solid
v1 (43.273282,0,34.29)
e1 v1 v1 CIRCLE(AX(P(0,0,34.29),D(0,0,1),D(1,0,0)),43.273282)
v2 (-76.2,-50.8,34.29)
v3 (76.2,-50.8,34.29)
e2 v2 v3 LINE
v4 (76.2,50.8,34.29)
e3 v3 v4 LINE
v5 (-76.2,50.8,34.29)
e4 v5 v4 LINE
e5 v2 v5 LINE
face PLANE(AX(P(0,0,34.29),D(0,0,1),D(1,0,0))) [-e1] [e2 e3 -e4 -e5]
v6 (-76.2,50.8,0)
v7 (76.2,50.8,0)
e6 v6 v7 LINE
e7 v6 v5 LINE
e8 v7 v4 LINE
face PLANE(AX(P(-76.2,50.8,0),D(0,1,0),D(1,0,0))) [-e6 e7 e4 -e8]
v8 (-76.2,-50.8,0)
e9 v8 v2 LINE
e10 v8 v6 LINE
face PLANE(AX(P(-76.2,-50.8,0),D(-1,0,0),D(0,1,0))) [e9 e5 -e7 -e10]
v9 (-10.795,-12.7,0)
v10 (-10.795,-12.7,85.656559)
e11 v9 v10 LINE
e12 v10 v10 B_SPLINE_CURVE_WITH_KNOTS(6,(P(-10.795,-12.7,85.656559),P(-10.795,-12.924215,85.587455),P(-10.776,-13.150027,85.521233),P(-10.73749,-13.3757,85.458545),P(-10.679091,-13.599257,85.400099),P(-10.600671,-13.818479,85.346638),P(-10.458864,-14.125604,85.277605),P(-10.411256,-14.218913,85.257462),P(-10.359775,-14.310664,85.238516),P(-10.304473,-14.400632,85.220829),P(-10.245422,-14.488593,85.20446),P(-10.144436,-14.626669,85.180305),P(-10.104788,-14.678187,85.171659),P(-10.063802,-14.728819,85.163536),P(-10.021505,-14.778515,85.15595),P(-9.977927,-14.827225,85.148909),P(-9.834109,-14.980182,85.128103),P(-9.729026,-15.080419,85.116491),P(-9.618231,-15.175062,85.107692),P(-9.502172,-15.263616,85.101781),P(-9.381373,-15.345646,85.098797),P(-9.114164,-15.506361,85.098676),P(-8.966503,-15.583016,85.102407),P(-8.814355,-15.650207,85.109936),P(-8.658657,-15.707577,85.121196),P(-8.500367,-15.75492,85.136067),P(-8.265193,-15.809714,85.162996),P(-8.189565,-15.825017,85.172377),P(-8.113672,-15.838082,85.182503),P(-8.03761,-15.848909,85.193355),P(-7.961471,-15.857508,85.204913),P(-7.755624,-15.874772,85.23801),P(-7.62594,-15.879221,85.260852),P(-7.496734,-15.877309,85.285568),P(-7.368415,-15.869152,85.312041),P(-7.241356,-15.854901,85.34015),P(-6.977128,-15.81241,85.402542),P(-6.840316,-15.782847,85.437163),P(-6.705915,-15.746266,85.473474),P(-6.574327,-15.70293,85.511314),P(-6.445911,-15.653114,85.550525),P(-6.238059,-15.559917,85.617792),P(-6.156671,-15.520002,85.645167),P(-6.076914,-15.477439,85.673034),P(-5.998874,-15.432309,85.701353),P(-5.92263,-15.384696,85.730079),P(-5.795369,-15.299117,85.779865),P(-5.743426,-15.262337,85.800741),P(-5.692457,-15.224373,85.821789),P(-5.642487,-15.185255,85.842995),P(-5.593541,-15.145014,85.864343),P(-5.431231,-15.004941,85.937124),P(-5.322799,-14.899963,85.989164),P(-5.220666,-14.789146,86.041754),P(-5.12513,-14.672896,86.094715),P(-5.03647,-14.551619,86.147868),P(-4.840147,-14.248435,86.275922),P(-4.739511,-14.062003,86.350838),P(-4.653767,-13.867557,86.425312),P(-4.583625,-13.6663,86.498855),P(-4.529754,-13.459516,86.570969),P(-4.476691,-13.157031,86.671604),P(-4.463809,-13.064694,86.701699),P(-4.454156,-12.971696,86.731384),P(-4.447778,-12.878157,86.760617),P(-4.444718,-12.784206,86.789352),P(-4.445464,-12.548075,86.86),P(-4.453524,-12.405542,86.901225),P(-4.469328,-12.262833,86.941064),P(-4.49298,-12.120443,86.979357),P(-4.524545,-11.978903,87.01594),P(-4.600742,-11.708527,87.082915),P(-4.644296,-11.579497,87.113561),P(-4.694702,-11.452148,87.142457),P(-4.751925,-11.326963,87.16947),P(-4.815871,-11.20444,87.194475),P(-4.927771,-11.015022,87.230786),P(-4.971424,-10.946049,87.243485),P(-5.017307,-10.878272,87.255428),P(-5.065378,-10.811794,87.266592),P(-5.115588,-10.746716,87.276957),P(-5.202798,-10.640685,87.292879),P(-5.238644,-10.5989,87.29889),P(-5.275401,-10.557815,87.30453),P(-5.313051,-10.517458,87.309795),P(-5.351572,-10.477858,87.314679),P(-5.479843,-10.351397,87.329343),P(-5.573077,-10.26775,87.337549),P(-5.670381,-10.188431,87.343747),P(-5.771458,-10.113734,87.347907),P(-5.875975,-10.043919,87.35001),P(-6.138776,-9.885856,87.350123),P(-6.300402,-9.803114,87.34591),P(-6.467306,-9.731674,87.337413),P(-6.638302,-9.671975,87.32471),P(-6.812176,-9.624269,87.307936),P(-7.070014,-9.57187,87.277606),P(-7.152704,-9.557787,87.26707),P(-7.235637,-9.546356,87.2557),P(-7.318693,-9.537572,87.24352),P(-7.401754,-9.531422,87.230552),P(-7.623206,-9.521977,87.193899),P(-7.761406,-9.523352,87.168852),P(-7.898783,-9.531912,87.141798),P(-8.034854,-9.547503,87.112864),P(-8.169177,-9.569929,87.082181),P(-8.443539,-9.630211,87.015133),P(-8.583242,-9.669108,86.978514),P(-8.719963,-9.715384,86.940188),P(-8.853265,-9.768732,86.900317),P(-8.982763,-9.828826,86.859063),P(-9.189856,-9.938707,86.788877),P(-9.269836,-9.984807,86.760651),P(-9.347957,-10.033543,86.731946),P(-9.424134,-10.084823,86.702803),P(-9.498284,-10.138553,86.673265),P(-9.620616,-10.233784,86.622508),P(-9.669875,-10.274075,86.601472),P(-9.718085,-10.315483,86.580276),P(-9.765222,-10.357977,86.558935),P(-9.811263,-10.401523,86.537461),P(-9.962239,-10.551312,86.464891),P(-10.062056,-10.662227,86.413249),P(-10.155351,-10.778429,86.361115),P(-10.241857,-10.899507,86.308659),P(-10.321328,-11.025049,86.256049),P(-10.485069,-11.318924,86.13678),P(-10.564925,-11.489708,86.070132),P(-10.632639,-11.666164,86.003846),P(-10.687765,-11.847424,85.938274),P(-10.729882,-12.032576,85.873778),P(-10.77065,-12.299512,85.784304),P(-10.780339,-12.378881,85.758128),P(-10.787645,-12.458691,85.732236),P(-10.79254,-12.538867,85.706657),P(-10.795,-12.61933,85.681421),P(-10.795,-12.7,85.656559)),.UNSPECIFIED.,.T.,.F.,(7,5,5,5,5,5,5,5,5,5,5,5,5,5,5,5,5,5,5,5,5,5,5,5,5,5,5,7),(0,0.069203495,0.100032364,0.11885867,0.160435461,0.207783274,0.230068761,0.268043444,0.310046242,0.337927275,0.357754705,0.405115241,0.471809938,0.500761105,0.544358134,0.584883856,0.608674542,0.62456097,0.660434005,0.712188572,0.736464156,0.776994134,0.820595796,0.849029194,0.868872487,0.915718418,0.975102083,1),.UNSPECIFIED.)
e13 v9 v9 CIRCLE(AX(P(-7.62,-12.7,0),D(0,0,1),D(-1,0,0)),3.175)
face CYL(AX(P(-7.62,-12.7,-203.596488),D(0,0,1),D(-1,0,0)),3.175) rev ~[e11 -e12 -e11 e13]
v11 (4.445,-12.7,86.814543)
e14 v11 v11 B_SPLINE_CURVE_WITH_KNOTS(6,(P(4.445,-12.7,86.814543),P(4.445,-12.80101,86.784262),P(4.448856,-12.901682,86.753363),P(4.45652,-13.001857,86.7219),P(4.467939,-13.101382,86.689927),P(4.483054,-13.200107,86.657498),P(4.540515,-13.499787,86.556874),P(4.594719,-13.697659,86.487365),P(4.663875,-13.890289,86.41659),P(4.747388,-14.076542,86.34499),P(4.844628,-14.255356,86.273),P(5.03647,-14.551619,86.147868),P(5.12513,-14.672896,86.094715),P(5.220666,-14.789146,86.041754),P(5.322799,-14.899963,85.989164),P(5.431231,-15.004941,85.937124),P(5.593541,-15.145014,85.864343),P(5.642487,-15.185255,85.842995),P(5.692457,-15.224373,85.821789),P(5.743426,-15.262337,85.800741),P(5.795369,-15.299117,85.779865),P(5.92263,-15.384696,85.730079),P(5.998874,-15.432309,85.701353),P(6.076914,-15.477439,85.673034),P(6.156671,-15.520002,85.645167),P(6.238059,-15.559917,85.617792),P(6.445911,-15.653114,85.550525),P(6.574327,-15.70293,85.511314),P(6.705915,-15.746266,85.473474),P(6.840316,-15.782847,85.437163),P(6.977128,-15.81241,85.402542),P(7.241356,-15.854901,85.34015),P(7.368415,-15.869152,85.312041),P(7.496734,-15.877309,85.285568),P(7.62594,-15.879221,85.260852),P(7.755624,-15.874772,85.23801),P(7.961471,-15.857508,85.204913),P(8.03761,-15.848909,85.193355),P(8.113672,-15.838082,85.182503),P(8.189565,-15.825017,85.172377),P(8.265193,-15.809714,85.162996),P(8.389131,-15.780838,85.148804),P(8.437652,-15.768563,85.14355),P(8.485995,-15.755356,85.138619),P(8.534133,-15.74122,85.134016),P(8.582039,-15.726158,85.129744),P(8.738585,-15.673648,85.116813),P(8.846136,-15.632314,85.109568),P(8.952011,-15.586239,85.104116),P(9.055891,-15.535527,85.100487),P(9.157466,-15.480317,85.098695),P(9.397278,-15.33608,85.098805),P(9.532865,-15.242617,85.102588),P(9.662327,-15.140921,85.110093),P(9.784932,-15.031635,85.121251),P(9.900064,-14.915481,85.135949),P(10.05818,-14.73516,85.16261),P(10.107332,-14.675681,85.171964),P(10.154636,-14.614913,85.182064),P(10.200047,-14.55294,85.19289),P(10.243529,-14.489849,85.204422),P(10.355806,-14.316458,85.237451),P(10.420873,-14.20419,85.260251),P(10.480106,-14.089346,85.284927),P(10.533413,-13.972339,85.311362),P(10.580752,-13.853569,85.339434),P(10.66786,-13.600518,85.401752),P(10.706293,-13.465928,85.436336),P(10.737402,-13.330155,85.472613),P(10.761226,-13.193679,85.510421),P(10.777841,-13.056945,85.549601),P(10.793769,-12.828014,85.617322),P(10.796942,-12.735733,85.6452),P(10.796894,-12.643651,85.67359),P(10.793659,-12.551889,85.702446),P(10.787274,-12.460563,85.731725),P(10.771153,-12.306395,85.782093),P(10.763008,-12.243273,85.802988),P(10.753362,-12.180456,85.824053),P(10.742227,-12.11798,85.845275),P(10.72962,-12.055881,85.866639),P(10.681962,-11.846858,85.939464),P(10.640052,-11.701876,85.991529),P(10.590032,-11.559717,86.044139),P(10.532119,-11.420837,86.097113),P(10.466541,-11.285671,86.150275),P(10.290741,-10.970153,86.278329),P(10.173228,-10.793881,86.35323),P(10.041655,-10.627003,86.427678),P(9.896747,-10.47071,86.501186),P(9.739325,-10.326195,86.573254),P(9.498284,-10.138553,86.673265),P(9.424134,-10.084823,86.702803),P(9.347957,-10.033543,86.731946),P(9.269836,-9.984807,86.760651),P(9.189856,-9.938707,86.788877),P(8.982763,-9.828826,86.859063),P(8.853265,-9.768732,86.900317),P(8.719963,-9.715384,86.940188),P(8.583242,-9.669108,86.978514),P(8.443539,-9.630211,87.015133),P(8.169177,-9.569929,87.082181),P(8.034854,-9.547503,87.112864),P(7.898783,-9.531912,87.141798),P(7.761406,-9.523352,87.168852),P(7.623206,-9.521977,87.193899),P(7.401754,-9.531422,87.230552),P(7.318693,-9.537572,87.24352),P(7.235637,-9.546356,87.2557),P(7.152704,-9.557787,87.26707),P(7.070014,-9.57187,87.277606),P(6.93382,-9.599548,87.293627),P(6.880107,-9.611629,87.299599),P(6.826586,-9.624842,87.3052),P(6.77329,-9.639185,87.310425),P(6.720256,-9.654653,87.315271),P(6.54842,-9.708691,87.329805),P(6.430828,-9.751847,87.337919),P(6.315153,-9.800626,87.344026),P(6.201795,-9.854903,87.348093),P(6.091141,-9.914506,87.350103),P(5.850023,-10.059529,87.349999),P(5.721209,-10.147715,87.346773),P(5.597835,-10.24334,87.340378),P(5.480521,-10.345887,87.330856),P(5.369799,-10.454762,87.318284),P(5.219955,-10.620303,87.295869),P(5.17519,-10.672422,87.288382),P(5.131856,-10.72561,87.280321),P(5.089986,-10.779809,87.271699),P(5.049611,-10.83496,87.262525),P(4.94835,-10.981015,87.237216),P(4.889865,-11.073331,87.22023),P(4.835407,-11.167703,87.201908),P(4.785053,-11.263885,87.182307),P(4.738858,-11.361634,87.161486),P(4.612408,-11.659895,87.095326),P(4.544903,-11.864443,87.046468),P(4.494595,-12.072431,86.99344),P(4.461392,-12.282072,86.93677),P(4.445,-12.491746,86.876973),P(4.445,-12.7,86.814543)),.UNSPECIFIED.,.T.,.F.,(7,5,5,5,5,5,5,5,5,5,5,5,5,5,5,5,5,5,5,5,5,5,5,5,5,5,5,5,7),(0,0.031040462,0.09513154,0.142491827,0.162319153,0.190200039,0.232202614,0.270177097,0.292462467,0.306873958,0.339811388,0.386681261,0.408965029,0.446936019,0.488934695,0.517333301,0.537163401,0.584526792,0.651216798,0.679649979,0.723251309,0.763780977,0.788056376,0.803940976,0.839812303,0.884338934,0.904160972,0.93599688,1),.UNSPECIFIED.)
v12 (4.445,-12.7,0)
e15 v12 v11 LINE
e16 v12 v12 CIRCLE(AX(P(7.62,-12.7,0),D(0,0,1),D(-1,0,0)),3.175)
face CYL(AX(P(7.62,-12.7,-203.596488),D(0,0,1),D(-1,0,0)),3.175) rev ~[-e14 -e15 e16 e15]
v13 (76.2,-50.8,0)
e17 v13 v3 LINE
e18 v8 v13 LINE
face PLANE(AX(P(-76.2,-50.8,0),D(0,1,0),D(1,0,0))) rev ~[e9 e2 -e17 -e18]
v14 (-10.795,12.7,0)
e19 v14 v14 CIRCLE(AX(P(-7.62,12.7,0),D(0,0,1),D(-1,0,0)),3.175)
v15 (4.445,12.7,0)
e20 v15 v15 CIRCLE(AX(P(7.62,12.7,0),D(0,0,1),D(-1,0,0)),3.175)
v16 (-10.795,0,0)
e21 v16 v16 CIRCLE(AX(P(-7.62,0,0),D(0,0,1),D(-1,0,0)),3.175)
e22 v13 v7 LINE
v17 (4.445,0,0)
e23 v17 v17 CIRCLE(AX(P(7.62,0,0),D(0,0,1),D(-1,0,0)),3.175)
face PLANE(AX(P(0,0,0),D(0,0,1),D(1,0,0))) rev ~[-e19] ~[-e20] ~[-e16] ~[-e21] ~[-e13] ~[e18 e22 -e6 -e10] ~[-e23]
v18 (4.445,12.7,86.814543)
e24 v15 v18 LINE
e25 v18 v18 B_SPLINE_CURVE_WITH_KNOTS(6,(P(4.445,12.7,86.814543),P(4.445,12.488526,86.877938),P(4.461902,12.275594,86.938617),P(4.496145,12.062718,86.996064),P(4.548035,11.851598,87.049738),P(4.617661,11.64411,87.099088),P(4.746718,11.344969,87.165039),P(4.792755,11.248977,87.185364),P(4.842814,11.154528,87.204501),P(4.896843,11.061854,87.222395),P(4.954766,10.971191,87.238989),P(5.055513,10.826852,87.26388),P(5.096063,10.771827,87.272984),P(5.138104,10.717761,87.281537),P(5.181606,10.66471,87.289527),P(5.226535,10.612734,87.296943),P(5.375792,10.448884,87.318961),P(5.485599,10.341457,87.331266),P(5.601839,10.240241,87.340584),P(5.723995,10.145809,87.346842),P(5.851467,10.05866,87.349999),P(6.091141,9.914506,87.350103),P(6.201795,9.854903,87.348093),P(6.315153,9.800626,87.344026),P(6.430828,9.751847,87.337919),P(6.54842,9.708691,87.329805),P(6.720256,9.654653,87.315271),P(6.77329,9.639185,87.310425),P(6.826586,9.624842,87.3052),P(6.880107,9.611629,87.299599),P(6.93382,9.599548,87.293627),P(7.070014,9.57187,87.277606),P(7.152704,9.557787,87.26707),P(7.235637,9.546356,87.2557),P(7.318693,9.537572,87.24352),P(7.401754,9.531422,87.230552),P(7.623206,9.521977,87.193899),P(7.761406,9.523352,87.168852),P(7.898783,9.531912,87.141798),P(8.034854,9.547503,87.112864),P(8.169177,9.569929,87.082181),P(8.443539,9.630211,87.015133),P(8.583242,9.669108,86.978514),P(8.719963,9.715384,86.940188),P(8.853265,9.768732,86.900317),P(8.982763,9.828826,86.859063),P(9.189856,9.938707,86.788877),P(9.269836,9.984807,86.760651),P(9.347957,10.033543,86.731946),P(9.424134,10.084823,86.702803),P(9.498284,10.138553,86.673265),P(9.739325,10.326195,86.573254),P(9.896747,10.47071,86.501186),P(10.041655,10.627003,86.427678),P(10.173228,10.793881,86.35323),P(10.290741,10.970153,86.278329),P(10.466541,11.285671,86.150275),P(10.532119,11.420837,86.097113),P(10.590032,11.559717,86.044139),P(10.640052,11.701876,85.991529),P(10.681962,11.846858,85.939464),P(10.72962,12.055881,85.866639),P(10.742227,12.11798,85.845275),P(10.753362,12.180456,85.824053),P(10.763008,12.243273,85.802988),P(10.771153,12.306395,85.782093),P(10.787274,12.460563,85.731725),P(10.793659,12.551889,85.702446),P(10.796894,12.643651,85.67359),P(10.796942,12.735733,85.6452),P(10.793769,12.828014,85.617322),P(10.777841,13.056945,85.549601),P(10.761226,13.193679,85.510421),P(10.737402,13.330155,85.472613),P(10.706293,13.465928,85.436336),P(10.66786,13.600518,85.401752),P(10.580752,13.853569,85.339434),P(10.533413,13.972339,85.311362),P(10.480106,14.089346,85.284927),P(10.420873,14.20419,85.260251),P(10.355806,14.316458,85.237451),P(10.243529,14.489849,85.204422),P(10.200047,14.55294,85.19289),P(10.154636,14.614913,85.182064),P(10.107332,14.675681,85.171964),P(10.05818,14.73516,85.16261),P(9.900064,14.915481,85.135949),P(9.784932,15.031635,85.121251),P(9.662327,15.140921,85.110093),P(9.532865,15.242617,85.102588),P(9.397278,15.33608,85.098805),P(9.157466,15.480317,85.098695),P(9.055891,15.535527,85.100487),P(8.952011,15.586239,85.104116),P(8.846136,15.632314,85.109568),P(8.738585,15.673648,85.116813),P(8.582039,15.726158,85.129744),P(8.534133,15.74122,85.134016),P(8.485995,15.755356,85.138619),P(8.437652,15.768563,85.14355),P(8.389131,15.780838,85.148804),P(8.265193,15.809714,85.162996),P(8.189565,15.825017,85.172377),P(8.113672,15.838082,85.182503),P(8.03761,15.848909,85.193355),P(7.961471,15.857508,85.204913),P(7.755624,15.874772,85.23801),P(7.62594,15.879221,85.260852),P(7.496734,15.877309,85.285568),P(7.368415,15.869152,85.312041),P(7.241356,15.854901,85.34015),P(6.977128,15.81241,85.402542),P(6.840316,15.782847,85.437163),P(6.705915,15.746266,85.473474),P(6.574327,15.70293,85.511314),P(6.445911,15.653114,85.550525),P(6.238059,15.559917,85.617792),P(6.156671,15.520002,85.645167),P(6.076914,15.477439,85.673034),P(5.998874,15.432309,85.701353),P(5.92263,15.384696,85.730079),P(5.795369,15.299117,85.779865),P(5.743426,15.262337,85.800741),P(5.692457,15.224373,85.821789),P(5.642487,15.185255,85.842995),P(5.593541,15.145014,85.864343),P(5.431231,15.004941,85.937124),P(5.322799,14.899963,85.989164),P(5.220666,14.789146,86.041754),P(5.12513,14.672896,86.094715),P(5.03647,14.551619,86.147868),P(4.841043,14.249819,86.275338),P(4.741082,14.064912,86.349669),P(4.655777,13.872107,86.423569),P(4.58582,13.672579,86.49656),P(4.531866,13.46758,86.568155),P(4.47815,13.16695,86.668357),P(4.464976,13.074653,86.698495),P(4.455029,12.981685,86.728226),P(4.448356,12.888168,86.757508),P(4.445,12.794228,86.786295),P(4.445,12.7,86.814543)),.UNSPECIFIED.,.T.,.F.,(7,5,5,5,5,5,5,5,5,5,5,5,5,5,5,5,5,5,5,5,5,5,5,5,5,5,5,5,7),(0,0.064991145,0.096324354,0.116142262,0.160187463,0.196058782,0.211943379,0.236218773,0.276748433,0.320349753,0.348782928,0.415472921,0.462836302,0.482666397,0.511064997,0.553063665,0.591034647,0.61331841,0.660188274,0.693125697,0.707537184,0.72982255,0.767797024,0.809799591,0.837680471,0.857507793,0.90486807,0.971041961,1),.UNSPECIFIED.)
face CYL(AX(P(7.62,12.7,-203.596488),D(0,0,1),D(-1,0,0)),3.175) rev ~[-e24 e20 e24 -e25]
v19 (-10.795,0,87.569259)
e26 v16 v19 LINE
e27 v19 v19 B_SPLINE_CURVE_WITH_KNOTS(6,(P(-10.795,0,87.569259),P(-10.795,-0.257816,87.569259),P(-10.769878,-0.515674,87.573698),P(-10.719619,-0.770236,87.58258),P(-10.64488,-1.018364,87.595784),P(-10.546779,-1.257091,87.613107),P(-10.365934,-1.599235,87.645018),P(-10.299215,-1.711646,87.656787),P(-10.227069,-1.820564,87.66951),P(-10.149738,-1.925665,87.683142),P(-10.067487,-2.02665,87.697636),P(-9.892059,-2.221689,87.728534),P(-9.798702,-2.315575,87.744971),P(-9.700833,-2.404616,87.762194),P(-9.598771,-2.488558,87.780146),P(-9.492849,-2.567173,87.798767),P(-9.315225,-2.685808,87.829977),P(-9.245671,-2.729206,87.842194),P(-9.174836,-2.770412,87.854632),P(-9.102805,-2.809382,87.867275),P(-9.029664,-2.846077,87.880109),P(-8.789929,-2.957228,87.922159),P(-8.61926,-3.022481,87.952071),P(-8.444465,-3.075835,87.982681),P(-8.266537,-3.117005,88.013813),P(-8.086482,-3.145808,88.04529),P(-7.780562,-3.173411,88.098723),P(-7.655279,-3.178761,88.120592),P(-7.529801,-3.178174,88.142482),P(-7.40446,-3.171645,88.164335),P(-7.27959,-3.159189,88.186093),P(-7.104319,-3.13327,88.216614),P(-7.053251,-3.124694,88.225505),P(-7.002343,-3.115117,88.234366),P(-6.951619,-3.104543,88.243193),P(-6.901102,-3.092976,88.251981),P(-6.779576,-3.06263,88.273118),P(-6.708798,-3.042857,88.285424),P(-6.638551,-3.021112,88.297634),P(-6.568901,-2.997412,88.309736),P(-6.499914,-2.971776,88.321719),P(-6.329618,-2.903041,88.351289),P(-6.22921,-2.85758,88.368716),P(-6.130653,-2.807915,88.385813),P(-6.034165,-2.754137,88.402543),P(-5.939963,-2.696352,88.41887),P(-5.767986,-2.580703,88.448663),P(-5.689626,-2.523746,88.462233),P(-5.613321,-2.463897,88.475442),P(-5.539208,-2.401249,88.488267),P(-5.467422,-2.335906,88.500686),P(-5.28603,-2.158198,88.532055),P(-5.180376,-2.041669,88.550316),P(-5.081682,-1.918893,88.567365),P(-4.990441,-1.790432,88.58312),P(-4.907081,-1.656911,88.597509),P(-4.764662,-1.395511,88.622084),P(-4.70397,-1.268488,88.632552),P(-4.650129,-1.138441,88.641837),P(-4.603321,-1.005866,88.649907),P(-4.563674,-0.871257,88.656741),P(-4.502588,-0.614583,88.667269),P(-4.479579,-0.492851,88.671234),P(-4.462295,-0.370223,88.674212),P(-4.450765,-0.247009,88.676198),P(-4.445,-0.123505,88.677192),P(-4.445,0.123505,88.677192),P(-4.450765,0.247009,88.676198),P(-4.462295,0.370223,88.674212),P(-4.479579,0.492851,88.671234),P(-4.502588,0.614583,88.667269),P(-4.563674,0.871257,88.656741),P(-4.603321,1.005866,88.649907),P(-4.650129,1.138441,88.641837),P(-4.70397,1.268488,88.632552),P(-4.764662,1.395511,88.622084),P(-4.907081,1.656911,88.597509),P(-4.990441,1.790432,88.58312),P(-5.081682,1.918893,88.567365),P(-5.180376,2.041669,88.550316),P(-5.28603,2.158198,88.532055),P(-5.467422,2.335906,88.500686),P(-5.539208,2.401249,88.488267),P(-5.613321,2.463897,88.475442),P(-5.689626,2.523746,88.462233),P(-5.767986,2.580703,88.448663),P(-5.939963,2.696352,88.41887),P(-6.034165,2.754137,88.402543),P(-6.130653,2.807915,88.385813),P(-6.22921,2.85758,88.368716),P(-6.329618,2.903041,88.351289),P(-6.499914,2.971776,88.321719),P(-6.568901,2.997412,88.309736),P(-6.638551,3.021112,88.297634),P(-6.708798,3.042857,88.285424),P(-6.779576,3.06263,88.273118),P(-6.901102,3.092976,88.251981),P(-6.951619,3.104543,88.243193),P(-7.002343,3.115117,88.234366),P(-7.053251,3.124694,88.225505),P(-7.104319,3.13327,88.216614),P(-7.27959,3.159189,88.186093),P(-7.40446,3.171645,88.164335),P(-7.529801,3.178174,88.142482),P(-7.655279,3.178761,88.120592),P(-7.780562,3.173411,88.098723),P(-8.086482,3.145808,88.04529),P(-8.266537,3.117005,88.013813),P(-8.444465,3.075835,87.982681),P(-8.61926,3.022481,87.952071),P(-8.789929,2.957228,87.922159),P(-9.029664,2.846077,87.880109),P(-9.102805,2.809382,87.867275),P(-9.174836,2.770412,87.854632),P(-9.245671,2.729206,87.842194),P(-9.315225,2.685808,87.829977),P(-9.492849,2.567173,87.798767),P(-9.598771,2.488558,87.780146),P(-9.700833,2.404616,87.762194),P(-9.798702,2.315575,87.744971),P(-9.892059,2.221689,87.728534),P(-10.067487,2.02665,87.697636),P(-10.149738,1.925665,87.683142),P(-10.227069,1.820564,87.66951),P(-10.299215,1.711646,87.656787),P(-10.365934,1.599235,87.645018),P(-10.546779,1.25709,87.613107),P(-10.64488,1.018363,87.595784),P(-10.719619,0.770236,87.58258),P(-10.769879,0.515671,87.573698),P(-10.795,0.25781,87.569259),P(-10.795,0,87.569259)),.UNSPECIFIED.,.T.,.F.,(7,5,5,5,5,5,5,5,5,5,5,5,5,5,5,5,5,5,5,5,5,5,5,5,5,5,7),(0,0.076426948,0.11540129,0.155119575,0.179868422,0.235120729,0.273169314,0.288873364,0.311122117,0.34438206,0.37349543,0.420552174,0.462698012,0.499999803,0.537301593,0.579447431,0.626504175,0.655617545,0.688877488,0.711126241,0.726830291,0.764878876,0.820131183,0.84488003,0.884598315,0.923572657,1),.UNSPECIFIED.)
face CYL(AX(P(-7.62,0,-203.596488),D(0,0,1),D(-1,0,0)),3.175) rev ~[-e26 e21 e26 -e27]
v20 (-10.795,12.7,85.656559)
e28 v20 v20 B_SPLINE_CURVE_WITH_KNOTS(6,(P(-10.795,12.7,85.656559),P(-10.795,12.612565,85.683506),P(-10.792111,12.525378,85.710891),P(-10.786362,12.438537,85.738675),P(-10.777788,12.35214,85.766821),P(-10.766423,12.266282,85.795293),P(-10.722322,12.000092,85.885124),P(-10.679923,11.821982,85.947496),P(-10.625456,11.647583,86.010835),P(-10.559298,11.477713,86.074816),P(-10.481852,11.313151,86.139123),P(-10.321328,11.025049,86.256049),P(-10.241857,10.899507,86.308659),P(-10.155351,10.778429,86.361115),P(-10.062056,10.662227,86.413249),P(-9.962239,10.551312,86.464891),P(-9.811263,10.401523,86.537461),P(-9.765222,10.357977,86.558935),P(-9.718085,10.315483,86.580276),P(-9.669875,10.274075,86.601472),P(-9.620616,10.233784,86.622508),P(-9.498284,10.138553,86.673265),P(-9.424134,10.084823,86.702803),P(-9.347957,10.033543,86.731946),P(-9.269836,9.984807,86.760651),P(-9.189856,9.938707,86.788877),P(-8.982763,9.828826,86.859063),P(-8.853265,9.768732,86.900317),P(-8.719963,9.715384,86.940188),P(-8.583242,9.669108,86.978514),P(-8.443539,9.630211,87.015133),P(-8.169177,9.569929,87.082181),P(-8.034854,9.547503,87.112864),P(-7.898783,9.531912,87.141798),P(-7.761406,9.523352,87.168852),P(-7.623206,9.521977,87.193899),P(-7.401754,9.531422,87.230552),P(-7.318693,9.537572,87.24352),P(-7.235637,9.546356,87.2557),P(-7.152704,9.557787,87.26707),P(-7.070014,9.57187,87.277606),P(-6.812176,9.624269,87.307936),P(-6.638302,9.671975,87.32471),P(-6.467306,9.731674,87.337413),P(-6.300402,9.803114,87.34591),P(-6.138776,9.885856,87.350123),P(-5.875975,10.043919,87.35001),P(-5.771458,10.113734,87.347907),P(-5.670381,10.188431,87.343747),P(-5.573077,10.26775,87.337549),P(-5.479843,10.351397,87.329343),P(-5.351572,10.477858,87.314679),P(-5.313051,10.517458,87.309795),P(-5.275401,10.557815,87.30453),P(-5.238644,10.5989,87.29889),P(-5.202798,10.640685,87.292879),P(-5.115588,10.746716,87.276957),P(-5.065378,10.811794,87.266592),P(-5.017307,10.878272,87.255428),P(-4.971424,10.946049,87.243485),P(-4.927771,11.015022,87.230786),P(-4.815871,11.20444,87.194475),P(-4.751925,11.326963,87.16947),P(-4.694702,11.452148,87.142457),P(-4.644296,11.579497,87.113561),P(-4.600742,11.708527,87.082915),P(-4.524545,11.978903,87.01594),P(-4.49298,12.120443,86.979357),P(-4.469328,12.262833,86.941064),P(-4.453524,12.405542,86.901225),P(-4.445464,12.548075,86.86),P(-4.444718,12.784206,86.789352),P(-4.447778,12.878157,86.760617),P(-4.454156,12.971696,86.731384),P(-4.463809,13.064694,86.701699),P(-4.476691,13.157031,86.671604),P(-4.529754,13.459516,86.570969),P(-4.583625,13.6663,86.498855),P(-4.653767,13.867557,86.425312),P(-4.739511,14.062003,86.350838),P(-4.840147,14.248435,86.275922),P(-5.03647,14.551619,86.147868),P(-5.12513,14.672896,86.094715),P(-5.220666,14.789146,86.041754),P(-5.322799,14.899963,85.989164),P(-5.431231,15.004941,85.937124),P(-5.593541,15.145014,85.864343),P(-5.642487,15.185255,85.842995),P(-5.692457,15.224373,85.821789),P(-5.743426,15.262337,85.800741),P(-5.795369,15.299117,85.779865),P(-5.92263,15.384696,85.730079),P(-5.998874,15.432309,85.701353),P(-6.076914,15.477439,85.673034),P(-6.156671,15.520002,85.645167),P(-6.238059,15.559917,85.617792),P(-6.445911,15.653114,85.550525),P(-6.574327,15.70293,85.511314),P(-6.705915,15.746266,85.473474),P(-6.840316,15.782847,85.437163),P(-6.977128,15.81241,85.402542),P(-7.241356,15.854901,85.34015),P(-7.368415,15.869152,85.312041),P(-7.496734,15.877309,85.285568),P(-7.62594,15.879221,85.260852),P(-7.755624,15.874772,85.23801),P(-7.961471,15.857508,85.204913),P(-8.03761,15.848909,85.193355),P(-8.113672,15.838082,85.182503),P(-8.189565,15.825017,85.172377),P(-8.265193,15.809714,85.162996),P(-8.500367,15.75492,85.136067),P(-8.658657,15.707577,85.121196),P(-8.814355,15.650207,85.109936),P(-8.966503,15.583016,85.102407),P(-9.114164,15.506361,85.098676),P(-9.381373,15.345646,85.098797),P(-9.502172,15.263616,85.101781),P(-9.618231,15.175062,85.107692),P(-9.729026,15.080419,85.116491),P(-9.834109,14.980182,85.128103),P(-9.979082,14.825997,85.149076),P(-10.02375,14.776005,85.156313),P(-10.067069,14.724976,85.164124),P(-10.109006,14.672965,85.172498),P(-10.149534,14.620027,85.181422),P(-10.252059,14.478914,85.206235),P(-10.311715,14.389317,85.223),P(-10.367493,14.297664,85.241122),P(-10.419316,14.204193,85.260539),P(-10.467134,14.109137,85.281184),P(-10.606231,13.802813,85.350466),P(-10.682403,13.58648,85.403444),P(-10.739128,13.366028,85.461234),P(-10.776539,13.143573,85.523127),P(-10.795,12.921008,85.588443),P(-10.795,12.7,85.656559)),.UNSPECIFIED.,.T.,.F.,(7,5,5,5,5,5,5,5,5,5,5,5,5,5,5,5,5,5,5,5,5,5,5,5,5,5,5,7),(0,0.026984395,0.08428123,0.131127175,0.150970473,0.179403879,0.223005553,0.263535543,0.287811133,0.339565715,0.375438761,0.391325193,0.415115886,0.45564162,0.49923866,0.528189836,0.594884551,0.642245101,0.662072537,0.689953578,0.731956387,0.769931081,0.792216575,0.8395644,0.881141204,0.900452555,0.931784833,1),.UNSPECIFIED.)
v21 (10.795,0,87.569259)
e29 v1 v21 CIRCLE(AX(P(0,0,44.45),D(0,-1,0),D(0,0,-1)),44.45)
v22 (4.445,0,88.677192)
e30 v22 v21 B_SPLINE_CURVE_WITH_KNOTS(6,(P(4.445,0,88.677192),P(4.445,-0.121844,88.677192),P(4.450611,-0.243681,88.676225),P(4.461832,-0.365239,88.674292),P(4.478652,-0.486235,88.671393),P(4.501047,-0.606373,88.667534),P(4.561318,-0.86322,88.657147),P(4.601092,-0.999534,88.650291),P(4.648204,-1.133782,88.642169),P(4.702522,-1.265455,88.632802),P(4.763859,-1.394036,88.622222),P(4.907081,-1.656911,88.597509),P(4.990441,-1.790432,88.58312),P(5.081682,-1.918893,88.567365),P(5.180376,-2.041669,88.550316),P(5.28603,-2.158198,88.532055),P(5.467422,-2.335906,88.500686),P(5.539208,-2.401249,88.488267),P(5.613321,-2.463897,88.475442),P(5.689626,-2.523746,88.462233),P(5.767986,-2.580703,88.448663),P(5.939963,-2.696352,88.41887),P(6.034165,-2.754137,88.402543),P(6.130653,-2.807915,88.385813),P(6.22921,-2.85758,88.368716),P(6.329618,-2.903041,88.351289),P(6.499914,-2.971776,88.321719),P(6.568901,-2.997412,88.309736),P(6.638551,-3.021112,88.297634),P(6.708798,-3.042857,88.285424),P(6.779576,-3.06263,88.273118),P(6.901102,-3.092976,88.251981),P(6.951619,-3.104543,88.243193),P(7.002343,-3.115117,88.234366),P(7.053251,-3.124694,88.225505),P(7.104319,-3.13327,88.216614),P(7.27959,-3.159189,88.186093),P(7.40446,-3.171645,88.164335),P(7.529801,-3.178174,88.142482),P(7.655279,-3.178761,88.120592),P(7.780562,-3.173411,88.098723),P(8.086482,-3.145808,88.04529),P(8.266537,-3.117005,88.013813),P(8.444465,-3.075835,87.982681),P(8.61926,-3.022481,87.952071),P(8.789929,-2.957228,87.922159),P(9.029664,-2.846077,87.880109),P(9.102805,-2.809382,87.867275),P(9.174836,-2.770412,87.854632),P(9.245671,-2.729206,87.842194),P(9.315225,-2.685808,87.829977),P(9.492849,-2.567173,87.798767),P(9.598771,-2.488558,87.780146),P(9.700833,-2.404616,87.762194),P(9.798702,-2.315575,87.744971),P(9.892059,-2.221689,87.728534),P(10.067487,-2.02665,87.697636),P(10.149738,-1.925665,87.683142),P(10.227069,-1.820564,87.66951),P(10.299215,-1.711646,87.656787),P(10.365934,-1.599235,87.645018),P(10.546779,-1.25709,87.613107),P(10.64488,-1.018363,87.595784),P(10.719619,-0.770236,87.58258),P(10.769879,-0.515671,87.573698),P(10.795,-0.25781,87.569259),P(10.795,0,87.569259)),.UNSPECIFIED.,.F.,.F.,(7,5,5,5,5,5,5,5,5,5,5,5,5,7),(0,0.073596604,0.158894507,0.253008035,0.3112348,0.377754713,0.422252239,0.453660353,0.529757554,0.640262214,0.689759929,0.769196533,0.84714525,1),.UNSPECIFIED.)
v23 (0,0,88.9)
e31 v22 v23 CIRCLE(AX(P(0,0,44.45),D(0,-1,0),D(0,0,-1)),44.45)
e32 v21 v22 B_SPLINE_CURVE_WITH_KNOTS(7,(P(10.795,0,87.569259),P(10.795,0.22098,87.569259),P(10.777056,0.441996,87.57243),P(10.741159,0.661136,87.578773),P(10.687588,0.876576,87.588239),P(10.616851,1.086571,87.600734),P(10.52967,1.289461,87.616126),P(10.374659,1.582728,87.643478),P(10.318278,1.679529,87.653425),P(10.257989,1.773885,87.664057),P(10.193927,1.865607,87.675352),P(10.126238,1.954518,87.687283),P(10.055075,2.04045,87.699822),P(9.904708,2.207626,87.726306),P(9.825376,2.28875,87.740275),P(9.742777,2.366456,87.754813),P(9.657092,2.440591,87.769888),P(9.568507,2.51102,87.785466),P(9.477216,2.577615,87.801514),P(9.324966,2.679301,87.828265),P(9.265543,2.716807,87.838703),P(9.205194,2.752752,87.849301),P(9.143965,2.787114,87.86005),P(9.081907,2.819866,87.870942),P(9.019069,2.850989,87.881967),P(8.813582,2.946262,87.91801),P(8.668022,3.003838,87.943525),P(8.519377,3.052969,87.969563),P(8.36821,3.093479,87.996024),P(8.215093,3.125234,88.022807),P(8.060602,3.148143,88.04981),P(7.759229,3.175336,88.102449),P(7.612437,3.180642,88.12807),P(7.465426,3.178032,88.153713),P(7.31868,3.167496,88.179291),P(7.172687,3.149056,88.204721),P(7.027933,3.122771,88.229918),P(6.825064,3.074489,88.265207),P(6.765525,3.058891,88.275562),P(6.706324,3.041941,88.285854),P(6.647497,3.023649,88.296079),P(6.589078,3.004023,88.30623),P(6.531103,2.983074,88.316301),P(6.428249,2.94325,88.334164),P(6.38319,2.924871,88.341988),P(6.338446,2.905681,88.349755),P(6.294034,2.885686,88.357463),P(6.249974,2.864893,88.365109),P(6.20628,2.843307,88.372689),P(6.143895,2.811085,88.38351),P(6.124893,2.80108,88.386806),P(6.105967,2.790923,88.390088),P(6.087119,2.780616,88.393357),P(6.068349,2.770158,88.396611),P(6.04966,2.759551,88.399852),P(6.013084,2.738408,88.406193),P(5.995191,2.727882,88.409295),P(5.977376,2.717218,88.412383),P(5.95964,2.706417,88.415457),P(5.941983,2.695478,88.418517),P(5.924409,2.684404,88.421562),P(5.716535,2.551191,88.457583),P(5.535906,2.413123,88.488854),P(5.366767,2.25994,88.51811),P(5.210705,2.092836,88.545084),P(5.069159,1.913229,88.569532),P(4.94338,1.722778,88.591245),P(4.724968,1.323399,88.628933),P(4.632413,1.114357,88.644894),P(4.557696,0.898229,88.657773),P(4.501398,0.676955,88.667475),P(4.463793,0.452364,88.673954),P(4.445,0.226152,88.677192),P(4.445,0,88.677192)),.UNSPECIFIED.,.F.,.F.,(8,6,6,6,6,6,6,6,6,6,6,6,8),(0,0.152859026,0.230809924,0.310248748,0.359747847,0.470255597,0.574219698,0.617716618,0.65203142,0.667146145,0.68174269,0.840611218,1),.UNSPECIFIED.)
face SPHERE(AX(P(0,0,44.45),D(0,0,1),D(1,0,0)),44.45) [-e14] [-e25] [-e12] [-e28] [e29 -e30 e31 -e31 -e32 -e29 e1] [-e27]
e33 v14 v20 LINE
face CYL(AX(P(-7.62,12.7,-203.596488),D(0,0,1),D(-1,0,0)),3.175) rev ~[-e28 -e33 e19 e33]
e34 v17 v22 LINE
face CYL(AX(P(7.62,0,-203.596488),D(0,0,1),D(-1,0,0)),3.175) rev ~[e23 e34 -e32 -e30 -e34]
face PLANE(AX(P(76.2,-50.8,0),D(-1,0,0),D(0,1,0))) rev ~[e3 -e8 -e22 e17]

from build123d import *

# Parameters (mm, degrees)
F0_W     = 152.4
F0_H     = 101.6
F1_DEPTH = 34.29
F5_D     = 6.35


with BuildPart() as f1:
    # F0 (on Top) → F1 (new body)
    with BuildSketch(Plane.XY):
        Rectangle(F0_W, F0_H)
    extrude(amount=F1_DEPTH)

    # F2 (on Front) → F3 (revolve)
    with BuildSketch(Plane.XZ):
        with BuildLine():
            Line((0, 88.9), (0, 0))
            ThreePointArc((0, 0), (44.45, 44.45), (0, 88.9))
        make_face()
    revolve(axis=Axis((0, 0, 44.45), (0, 0, 1)))

    # F5 (through all)
    with Locations(Plane(origin=(0, 0, 0), x_dir=(1, 0, 0), z_dir=(0, 0, -1))):
        with Locations((-7.62, 12.7), (7.62, 12.7), (-7.62, 0), (7.62, -12.7), (-7.62, -12.7), (7.62, 0)):
            Hole(F5_D / 2)


solid = f1.part
